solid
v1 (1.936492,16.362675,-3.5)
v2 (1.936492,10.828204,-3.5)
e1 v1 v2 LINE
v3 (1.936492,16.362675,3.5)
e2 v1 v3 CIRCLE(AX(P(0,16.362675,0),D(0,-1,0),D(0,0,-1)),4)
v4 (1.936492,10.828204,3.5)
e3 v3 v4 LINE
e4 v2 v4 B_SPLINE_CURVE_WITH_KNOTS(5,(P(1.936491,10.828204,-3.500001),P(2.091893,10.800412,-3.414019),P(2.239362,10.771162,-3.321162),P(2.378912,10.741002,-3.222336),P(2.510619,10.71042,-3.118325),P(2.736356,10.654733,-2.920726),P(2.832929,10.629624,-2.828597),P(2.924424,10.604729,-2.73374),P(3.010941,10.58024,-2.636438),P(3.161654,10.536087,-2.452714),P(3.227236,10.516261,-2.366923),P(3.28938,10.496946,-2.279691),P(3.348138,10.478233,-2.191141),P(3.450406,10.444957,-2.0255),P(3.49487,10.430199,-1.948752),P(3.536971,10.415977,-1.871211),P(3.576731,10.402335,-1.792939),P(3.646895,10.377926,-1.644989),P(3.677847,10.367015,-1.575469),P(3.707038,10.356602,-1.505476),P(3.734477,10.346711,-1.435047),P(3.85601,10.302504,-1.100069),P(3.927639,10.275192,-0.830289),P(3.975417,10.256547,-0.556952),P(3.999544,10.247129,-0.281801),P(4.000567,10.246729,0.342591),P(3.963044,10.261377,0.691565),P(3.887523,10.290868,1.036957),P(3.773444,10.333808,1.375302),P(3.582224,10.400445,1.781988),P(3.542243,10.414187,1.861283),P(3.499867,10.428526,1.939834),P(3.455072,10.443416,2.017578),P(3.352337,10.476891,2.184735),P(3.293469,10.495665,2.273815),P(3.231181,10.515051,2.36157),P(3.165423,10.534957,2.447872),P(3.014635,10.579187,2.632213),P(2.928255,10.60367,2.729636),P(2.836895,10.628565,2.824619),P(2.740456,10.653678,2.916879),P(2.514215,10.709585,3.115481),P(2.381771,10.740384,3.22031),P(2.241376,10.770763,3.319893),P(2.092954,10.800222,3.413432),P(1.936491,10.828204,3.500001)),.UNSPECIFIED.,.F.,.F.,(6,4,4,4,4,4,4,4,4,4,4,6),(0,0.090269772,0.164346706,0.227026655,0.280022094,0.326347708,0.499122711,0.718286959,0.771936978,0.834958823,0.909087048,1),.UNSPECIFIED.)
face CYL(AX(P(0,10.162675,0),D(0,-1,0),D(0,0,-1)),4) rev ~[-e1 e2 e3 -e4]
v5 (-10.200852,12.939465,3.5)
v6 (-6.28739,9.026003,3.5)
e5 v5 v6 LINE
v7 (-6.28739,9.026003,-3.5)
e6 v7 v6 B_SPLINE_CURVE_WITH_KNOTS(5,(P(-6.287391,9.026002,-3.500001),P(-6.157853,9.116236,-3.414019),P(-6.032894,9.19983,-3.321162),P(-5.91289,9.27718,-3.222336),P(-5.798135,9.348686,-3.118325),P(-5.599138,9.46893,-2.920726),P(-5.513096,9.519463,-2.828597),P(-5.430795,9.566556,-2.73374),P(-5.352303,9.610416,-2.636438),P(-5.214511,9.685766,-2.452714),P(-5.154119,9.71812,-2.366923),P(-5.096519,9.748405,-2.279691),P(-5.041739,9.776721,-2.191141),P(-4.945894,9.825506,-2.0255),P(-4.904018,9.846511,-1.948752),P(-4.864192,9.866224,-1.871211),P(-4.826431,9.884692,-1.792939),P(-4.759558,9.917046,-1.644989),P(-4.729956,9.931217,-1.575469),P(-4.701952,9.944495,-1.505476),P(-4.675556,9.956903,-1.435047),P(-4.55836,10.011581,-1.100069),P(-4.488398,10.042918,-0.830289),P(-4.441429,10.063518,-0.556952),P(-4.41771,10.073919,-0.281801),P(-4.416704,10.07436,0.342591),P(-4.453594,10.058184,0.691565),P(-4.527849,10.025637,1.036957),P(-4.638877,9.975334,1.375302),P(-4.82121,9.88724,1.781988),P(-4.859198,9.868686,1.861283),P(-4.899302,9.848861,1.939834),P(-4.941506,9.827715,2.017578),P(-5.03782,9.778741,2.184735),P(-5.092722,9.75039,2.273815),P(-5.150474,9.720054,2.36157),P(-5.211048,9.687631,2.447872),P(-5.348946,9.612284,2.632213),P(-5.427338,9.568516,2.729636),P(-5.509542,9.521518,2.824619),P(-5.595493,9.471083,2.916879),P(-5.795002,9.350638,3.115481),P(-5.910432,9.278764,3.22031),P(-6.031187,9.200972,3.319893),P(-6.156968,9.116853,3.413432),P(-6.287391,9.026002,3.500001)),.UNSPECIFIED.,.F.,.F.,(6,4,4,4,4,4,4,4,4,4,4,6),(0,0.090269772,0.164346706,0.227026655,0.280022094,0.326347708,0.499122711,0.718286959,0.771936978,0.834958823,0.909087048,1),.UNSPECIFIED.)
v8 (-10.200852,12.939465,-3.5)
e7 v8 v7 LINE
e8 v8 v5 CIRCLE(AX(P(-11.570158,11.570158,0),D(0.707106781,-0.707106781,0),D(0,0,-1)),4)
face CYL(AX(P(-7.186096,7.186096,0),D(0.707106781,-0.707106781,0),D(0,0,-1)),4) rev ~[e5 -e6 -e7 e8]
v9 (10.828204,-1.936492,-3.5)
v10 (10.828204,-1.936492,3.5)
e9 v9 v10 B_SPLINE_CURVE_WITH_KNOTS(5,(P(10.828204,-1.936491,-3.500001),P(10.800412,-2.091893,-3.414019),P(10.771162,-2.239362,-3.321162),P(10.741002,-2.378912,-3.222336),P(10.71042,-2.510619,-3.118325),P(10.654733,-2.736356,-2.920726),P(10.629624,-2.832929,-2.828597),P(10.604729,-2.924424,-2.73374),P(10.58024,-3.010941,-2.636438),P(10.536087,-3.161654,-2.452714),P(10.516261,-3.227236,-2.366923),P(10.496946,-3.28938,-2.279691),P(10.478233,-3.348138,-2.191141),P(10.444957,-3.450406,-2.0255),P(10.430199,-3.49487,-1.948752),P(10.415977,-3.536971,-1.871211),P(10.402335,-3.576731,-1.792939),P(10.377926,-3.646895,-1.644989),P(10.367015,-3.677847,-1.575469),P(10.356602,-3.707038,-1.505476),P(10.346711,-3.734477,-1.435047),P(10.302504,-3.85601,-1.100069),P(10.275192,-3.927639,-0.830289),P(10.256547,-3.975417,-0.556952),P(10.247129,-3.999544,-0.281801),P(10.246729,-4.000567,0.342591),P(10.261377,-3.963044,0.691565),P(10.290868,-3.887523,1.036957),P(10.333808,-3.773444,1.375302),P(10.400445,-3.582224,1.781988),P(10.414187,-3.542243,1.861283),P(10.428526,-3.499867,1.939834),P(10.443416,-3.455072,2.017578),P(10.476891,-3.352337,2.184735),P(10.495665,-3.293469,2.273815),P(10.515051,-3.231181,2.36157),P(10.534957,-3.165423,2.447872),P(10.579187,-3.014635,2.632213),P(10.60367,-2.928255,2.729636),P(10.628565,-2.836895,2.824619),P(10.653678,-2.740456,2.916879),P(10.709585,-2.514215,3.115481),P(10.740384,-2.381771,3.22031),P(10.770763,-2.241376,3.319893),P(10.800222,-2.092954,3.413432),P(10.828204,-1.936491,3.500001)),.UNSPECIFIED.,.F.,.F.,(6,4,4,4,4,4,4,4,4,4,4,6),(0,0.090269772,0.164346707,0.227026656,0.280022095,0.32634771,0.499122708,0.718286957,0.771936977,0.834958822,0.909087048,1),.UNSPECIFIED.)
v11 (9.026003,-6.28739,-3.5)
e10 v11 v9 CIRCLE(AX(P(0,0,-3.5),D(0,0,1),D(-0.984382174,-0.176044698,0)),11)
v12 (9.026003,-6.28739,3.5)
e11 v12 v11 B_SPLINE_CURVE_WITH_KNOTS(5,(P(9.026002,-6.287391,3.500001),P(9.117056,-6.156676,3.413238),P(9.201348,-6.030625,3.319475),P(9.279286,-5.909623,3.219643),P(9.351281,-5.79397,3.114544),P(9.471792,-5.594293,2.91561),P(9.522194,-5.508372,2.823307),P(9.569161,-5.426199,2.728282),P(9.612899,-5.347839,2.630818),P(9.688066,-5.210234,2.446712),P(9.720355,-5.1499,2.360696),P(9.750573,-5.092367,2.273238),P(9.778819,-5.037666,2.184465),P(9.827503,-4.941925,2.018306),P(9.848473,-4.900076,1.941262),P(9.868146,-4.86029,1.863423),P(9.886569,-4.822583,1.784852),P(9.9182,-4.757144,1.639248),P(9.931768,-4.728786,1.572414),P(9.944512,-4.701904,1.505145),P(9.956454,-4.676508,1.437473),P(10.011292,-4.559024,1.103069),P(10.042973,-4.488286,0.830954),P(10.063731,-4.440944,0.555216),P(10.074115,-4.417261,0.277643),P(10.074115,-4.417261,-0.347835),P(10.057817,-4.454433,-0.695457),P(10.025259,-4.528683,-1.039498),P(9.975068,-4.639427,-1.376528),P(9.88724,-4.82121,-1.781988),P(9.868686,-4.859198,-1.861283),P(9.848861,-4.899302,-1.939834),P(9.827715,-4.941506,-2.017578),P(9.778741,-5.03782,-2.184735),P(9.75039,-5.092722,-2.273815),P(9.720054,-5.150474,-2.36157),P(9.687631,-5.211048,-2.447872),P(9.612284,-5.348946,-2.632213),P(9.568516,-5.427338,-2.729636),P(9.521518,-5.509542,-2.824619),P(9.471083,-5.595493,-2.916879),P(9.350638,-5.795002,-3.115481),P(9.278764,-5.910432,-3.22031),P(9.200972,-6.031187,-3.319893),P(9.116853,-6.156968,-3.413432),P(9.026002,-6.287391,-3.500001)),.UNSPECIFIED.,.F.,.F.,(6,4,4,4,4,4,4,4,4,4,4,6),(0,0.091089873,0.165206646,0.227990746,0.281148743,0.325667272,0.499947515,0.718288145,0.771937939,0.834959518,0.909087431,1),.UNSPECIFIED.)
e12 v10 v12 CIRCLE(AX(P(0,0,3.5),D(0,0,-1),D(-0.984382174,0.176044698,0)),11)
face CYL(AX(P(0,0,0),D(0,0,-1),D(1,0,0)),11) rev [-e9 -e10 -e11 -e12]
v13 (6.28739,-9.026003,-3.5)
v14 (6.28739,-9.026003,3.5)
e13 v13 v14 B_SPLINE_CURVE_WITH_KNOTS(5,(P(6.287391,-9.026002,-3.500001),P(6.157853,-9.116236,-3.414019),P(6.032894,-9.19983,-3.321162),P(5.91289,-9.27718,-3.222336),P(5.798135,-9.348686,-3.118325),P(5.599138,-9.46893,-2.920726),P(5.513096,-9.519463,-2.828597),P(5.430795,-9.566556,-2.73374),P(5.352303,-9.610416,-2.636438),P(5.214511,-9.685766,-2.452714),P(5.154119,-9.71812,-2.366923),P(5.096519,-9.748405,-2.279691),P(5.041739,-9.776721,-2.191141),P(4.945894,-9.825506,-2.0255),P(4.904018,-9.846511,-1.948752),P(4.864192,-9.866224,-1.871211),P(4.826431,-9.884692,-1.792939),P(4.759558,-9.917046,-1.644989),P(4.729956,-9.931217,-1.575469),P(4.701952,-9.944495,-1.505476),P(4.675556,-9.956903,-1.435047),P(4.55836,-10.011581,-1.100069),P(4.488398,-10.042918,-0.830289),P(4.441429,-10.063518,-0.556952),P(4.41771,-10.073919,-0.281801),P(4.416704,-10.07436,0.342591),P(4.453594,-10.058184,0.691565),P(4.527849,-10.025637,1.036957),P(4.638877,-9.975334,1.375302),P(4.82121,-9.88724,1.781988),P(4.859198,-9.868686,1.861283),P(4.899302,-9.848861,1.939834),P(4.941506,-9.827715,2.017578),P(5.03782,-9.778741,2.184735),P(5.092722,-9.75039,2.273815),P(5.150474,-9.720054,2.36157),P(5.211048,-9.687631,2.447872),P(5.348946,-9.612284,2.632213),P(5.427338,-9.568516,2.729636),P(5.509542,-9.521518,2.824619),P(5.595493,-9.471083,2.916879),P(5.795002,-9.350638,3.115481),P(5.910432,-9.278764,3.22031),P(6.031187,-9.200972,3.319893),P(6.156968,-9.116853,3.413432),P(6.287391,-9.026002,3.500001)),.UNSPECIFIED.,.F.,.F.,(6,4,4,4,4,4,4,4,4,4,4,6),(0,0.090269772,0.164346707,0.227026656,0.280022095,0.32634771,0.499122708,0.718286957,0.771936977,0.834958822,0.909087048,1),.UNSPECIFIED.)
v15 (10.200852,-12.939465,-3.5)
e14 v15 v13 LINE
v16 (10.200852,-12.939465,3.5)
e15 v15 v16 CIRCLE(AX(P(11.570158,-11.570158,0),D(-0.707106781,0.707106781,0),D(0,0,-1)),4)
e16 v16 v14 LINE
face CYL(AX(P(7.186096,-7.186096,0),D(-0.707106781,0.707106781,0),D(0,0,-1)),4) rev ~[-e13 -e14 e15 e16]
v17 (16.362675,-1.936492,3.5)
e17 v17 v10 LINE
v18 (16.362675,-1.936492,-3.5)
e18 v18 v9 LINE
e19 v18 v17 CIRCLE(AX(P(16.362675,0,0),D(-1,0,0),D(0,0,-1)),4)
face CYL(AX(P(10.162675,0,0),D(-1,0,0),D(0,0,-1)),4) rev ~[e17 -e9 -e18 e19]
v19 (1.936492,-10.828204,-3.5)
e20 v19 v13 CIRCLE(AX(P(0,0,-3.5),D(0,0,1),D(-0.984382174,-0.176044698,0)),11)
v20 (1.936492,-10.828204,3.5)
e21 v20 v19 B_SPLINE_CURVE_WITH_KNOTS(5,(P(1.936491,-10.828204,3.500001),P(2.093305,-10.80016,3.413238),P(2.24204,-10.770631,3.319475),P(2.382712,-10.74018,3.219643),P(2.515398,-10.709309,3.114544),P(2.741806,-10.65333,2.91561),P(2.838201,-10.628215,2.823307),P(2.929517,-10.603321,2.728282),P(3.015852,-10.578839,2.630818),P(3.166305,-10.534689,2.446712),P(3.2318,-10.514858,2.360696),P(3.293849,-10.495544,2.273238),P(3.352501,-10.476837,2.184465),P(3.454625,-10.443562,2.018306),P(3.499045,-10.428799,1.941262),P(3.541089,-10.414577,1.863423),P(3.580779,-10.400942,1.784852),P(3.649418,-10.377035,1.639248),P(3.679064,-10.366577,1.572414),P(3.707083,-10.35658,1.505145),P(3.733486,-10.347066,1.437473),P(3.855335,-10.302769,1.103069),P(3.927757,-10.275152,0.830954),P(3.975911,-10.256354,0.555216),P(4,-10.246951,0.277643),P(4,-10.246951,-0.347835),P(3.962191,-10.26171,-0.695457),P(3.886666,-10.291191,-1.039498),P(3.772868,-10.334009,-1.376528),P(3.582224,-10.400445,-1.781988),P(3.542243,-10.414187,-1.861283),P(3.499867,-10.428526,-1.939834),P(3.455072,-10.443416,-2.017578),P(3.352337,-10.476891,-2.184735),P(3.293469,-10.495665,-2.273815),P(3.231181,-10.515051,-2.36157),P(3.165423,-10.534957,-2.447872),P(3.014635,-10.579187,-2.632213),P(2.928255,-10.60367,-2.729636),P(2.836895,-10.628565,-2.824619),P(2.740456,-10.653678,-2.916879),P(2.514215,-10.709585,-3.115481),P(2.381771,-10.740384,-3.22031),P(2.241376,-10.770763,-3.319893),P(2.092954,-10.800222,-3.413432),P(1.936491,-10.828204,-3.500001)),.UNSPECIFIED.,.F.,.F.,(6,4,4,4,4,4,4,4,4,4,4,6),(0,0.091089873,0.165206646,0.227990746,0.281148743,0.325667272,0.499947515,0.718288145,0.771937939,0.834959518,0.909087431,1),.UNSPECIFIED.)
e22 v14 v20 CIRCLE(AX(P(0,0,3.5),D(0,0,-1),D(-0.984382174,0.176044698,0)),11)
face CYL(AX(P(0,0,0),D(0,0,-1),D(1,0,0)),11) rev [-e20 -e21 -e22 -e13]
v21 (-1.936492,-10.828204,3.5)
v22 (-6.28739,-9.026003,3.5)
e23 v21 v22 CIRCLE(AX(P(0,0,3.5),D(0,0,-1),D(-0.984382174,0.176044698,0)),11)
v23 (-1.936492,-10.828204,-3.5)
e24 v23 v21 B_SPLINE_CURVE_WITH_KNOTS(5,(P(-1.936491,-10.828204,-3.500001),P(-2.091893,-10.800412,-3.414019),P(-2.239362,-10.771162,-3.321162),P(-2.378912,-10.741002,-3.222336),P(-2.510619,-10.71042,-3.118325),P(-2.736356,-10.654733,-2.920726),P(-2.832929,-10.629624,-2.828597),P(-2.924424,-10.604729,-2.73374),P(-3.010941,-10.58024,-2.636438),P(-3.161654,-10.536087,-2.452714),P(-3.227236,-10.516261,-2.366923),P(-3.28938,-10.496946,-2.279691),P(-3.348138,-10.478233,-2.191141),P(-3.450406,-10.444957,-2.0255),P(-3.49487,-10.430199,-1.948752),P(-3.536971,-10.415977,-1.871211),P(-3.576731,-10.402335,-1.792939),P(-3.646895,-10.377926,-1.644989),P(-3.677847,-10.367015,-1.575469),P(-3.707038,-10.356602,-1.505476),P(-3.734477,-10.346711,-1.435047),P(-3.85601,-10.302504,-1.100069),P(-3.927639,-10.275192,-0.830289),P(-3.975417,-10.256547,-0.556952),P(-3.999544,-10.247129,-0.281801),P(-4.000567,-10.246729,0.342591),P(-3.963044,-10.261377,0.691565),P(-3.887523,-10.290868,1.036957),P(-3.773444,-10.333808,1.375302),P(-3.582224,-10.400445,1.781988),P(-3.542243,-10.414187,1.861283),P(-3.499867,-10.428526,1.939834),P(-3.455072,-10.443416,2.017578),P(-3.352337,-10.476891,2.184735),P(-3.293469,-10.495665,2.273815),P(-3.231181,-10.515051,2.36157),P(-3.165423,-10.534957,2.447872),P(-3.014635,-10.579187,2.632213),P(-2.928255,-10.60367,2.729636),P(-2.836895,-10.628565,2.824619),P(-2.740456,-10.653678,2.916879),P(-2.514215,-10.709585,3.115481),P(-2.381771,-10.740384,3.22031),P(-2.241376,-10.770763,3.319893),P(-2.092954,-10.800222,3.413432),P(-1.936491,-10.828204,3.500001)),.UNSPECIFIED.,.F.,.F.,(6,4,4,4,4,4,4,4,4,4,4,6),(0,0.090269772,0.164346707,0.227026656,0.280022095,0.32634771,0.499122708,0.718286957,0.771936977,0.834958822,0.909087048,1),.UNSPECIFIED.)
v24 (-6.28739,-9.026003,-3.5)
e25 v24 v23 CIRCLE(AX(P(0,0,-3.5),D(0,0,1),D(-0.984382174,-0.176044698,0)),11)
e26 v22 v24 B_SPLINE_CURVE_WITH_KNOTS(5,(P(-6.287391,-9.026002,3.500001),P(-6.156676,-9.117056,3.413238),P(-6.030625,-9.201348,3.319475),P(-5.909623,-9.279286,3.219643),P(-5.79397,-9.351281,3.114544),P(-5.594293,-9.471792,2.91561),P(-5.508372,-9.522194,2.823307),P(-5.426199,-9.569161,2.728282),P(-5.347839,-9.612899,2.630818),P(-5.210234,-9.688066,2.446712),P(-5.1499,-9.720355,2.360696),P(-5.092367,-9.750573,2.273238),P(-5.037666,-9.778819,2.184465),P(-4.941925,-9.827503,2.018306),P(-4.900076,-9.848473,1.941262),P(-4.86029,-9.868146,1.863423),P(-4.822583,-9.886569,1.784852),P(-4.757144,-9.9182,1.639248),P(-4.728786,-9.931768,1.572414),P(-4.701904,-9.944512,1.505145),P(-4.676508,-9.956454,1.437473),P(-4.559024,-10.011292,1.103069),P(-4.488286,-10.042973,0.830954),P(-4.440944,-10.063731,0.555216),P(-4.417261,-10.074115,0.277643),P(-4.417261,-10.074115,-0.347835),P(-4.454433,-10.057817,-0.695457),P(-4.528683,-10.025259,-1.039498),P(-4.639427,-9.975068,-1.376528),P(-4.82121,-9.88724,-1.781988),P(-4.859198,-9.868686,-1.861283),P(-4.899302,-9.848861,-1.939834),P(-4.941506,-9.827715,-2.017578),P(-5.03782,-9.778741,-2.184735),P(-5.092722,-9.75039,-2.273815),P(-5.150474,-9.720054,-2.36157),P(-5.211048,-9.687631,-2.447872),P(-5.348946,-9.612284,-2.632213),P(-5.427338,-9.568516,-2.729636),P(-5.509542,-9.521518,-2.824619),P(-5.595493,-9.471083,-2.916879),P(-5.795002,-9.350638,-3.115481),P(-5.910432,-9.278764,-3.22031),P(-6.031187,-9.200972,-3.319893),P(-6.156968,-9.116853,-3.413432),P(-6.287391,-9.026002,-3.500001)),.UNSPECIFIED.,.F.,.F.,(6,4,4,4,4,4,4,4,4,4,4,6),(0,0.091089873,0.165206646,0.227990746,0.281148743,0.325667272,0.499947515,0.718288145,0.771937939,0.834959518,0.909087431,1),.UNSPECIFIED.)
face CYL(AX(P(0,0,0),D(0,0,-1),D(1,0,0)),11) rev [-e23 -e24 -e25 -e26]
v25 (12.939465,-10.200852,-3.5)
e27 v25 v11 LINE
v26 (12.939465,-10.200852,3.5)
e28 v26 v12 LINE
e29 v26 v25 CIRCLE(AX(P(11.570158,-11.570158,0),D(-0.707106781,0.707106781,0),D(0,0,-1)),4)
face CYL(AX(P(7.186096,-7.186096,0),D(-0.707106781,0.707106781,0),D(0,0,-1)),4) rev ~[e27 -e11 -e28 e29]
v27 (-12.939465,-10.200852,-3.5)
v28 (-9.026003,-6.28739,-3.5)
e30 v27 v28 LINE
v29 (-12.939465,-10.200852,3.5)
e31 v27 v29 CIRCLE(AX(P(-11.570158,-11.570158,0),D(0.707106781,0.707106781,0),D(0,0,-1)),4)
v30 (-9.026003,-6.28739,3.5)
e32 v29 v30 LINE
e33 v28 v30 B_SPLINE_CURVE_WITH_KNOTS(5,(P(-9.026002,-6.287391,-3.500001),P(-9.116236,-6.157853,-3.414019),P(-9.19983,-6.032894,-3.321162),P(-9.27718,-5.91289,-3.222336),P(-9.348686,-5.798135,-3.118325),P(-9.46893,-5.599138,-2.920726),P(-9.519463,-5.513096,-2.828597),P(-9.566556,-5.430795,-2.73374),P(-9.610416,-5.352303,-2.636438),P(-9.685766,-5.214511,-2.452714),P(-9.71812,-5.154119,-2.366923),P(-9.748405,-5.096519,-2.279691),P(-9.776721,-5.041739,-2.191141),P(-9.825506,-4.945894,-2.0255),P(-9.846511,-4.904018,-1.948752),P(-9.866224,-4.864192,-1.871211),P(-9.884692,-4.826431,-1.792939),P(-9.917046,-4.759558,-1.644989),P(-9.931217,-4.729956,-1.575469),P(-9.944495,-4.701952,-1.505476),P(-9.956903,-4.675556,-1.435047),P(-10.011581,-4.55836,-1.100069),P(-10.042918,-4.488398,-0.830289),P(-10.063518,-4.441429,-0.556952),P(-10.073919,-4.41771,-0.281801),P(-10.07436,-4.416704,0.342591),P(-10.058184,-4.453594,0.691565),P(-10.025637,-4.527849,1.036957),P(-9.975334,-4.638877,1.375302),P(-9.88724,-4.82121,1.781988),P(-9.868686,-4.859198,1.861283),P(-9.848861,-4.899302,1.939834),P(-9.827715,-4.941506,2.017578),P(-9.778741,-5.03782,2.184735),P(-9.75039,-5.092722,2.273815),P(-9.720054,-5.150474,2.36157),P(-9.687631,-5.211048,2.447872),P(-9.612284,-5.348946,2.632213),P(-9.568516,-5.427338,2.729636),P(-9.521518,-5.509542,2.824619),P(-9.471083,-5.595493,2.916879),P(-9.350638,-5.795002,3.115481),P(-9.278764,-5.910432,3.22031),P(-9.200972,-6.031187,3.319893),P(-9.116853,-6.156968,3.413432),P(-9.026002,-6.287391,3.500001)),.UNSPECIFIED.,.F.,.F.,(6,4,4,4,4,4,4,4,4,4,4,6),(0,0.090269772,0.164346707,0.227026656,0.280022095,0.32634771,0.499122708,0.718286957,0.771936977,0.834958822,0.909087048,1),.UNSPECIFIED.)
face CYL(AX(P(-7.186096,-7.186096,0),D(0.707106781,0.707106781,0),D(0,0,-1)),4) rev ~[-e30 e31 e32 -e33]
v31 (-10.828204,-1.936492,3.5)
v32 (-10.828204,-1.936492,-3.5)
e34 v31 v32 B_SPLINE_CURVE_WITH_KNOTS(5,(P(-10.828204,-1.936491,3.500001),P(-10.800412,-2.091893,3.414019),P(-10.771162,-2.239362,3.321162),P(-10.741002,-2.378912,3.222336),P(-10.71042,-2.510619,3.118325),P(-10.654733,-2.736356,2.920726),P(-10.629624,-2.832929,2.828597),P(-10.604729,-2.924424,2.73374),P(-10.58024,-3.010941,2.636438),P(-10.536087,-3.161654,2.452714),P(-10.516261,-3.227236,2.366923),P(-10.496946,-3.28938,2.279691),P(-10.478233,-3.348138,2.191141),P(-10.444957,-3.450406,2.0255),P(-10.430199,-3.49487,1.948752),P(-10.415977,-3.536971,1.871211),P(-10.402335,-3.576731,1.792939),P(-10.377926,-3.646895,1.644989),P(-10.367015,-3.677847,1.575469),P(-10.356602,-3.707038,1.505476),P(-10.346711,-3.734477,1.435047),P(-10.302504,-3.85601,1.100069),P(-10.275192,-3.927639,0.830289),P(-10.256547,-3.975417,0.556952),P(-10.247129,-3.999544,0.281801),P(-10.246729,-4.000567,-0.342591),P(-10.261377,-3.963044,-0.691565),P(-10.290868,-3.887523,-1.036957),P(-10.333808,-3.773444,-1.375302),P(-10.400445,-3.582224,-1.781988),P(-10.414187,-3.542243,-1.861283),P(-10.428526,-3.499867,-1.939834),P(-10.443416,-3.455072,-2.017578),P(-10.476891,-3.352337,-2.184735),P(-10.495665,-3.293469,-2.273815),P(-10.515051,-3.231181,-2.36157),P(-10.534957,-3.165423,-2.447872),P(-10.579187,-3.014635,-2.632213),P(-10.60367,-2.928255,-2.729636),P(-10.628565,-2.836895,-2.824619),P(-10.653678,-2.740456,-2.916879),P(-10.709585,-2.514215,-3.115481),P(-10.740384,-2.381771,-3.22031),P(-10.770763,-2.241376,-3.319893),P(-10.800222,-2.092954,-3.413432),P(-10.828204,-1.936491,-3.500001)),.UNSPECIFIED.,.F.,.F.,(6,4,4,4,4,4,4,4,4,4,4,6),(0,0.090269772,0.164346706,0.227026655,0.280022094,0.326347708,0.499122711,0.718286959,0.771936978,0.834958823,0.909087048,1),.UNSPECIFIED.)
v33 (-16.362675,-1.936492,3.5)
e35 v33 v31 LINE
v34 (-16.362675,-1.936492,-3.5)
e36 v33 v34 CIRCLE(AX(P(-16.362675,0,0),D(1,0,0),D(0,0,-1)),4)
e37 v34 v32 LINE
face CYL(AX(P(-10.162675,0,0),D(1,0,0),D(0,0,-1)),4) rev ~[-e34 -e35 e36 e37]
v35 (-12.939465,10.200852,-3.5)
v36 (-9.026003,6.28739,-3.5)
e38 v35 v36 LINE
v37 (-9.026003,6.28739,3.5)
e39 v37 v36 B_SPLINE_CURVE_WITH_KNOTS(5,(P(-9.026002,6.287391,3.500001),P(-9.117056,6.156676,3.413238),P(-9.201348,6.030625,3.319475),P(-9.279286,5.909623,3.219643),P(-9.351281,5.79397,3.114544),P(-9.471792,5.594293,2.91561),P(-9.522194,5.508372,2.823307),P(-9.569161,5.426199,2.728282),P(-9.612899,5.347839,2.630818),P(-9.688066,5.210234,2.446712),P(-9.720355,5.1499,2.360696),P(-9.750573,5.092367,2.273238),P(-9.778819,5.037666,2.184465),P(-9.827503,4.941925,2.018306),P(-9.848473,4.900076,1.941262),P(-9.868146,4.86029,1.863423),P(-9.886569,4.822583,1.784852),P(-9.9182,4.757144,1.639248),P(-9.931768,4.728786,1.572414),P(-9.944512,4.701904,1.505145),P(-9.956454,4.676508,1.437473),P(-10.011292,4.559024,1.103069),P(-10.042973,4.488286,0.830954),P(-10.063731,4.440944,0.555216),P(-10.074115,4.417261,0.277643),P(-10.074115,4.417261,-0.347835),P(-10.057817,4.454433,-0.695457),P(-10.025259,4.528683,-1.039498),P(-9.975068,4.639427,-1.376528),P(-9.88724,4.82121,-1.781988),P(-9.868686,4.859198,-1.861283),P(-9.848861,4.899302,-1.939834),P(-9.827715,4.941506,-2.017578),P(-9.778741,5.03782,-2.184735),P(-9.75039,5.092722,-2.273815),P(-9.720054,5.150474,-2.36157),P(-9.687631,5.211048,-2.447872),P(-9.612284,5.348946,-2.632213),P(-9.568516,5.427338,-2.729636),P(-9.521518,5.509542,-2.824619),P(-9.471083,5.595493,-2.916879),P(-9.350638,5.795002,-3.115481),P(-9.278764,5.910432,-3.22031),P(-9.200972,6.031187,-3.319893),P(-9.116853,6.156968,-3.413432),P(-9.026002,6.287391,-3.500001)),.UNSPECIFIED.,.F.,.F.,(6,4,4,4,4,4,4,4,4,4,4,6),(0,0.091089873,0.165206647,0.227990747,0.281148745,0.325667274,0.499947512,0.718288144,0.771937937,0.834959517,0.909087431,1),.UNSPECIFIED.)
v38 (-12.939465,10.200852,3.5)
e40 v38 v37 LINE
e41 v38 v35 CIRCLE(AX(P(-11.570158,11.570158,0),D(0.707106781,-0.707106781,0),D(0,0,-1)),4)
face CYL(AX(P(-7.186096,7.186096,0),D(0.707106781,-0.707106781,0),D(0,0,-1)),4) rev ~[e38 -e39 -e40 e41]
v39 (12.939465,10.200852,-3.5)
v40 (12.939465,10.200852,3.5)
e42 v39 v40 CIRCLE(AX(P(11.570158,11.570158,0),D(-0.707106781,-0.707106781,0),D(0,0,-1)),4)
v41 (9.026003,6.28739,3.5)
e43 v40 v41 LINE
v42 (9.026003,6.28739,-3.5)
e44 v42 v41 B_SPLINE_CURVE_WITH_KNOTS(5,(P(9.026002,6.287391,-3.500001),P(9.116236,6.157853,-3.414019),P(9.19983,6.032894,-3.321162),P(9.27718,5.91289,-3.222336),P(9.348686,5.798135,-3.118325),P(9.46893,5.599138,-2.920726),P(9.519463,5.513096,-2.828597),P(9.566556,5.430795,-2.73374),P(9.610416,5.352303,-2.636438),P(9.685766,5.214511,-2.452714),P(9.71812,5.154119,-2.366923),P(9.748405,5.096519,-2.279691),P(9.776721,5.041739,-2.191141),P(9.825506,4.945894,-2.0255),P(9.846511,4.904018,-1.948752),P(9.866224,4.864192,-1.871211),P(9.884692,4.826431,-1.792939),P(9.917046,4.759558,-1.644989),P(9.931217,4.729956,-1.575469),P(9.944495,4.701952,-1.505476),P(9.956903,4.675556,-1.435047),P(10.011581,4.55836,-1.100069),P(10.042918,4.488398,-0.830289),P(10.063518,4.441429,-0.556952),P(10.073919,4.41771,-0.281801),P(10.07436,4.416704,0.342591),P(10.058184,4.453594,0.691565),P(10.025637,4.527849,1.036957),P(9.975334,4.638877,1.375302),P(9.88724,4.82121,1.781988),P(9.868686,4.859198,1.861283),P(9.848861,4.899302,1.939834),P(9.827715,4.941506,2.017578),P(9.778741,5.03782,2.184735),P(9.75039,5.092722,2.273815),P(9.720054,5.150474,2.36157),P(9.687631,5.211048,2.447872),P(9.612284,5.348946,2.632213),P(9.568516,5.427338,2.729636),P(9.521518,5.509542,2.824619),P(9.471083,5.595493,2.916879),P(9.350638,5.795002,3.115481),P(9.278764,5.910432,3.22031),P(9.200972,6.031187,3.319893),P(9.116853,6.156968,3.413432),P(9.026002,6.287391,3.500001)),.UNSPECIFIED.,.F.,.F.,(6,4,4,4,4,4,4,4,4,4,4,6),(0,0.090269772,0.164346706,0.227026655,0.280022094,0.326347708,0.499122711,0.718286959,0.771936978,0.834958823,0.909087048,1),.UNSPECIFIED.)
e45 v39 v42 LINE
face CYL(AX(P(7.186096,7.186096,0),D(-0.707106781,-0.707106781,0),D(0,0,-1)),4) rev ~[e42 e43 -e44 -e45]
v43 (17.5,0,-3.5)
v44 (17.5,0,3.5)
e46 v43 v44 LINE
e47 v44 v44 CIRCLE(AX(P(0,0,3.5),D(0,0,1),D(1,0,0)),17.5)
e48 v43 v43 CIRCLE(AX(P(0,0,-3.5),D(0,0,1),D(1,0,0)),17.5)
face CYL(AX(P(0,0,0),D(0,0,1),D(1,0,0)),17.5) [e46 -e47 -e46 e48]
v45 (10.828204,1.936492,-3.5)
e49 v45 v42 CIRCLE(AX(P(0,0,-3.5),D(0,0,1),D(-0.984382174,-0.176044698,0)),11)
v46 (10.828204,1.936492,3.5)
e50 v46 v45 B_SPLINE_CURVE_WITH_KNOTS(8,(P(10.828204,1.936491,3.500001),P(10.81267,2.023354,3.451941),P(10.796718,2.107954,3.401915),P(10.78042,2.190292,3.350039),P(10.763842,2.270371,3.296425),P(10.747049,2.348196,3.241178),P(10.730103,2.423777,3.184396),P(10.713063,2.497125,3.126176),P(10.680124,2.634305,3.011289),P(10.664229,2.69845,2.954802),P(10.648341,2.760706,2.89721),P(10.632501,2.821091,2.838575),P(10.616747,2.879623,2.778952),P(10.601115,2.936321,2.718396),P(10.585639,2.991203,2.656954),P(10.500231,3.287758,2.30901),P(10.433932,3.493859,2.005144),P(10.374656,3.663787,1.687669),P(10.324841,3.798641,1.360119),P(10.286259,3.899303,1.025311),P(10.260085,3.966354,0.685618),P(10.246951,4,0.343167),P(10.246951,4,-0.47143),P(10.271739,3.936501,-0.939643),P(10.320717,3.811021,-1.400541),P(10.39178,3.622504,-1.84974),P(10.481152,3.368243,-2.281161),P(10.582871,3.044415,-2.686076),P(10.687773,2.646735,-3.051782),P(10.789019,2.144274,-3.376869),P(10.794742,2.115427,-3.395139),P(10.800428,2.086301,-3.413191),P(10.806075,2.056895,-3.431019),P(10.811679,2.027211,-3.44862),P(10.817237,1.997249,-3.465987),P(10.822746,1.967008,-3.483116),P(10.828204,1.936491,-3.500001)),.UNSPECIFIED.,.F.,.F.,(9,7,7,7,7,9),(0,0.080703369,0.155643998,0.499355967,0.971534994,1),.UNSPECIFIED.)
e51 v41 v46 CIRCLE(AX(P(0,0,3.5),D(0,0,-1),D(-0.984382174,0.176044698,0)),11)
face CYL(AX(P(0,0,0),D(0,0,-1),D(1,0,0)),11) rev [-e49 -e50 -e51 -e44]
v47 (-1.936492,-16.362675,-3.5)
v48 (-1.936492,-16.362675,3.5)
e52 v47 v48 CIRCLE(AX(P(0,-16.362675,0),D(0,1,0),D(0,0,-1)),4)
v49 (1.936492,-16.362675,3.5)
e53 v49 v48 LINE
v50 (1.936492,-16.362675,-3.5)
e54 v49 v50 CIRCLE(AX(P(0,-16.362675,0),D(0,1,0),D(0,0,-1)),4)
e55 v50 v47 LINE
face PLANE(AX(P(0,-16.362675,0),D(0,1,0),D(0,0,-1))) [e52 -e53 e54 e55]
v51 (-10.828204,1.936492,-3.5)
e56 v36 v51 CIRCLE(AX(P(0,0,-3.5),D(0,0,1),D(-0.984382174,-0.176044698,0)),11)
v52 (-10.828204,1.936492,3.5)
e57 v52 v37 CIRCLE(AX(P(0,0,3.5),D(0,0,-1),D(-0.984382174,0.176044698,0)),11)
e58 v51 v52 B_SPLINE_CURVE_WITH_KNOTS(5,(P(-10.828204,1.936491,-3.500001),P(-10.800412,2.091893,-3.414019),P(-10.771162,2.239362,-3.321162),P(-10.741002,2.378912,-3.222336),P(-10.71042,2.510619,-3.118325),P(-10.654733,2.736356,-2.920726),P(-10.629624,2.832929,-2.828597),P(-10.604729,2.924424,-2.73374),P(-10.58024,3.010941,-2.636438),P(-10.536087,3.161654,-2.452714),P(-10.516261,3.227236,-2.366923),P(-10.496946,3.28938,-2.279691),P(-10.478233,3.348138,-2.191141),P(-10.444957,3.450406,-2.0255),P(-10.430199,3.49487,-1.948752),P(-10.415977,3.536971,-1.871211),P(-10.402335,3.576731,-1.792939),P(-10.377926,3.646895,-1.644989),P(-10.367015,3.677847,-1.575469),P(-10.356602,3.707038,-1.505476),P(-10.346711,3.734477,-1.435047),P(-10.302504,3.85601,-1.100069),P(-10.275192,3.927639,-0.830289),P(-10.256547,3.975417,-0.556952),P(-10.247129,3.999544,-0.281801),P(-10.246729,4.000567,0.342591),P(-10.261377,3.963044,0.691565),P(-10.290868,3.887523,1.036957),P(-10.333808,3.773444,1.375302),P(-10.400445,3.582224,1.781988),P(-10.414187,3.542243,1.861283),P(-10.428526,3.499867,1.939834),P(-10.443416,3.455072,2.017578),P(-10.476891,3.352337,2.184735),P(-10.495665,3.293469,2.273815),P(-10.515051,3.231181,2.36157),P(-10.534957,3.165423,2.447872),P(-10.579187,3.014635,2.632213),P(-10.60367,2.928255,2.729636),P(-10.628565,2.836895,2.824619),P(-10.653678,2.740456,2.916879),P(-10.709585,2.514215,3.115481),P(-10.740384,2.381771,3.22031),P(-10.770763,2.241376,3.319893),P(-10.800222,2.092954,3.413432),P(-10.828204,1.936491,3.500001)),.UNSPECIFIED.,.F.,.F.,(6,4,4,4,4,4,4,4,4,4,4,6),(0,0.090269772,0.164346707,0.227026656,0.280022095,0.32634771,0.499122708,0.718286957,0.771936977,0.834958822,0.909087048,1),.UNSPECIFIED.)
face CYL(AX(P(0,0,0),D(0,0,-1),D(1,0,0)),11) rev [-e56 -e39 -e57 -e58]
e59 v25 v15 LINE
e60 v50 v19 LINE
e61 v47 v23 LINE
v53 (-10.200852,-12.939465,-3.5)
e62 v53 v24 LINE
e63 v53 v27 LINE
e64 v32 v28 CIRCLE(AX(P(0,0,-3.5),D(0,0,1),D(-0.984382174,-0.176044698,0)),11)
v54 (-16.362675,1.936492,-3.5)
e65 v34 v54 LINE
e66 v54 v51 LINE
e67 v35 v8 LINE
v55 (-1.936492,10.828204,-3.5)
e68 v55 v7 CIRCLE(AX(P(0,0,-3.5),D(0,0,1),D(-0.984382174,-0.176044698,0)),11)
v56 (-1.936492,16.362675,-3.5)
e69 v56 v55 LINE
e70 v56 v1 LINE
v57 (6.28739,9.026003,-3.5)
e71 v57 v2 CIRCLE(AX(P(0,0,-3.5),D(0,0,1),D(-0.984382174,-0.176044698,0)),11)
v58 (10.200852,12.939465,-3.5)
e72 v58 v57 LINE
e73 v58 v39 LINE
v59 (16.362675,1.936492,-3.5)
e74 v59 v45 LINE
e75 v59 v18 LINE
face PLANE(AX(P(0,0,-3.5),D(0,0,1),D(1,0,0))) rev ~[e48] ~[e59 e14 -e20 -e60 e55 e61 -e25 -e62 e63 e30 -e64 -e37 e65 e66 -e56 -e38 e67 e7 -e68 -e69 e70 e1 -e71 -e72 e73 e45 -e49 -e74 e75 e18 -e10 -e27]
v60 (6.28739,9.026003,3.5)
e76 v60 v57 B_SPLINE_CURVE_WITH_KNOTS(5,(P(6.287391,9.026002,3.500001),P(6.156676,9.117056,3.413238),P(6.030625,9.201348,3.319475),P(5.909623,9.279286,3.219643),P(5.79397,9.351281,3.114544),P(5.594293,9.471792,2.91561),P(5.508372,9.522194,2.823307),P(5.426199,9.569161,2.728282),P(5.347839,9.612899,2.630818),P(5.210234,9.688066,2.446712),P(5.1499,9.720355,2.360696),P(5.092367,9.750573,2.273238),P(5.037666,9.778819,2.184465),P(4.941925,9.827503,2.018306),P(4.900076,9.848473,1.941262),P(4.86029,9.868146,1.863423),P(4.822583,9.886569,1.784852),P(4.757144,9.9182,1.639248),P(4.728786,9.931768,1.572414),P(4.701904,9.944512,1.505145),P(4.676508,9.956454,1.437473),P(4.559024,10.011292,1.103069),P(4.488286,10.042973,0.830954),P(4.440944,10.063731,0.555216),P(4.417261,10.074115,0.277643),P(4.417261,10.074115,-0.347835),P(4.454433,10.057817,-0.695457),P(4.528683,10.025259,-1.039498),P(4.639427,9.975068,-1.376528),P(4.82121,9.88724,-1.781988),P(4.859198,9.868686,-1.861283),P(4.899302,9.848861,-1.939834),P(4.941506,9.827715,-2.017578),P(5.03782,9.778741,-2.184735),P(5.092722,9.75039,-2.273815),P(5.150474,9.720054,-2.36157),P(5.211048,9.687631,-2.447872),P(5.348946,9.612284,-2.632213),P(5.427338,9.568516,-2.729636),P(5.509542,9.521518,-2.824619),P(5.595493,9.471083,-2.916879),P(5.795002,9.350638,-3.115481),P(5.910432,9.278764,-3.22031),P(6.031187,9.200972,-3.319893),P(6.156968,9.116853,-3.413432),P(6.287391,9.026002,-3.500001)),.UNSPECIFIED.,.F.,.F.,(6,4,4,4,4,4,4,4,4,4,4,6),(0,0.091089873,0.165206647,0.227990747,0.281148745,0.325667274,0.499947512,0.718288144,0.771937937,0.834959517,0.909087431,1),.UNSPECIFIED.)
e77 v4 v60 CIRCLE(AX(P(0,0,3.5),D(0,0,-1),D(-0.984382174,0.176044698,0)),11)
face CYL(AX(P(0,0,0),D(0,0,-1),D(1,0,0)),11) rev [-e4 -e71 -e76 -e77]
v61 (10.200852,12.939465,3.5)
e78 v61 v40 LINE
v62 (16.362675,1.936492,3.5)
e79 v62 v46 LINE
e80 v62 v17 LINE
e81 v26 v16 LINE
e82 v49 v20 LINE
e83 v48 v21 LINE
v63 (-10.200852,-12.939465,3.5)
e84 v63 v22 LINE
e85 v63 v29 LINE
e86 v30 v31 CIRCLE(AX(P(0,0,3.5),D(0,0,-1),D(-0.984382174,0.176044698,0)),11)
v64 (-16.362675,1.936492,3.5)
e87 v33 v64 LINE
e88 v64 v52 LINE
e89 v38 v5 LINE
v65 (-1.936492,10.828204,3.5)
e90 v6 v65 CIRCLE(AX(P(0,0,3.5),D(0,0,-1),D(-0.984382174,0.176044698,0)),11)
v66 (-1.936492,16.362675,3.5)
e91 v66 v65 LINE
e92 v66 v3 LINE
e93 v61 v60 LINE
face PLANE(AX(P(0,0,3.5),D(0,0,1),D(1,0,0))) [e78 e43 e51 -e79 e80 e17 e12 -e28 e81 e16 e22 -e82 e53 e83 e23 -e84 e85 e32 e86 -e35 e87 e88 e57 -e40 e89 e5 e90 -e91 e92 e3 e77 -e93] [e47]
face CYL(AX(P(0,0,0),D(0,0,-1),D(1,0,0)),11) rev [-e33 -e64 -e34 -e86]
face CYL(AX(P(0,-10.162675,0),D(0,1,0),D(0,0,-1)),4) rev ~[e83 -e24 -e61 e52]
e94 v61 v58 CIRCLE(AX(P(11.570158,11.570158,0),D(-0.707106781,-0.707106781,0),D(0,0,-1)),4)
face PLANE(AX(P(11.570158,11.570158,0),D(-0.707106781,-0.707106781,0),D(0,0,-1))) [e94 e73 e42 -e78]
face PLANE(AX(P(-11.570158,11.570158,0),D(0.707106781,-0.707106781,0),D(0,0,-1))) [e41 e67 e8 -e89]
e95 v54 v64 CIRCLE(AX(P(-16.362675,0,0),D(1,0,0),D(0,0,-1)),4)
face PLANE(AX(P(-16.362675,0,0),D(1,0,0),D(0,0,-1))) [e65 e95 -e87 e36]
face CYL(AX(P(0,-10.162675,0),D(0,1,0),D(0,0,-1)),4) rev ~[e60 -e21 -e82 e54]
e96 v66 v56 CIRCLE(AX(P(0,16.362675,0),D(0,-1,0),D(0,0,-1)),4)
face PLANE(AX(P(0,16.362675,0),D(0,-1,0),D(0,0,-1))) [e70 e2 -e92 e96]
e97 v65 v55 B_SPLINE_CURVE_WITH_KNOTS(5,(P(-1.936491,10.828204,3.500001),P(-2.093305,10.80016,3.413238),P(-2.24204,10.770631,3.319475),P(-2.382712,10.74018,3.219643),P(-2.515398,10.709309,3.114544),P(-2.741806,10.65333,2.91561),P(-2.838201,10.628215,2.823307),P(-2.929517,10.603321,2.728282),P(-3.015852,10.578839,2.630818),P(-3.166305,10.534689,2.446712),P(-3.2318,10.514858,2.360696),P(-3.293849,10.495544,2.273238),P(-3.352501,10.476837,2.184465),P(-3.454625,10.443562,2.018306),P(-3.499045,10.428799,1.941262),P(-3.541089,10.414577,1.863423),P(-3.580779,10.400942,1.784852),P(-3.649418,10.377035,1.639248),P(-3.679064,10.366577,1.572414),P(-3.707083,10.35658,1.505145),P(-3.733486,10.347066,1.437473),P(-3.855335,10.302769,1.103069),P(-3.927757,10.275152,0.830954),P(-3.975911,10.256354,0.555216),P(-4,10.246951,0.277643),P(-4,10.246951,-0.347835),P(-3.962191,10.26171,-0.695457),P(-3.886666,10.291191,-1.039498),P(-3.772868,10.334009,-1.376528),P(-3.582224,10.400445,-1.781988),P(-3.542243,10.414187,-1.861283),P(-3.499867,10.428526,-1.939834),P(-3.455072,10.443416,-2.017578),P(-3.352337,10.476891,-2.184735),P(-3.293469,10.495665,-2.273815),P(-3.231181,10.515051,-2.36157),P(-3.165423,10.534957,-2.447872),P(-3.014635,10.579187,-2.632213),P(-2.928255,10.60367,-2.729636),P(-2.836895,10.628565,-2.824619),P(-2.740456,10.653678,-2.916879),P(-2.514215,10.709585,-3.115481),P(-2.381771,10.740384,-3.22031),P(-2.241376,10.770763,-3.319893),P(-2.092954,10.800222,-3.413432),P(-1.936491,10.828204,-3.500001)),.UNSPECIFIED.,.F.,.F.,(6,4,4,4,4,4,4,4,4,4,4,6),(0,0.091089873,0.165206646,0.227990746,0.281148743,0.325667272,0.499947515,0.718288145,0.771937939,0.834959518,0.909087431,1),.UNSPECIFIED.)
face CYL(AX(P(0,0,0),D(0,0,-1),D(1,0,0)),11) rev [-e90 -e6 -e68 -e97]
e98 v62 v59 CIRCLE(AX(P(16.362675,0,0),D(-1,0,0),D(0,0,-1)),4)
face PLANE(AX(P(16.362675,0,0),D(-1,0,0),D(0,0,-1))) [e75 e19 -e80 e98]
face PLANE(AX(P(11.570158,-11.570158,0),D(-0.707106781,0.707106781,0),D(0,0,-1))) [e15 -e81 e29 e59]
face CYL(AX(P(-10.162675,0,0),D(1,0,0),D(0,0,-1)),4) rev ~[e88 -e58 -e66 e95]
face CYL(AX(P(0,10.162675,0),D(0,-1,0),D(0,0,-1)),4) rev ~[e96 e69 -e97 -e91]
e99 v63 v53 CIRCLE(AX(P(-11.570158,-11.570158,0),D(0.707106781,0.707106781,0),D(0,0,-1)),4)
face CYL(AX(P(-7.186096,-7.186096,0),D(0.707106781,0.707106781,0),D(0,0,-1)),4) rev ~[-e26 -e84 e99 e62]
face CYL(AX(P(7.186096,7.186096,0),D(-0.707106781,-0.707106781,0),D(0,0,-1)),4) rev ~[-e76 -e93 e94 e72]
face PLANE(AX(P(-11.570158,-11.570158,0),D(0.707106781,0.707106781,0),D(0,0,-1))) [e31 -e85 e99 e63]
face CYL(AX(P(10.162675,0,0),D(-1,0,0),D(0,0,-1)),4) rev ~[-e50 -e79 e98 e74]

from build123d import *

# Parameters (mm, degrees)
SKETCH1_R           = 17.5
SKETCH1_R_2         = 11
BOSS_EXTRUDE1_DEPTH = 3.5
SKETCH4_R           = 4
CUT_EXTRUDE1_DEPTH  = 6.2
CIRPATTERN1_COUNT   = 8


with BuildPart() as part:
    # Sketch1 → Boss-Extrude1 (new, symmetric)
    with BuildSketch(Plane.XY):
        Circle(SKETCH1_R)
        Circle(SKETCH1_R_2, mode=Mode.SUBTRACT)
    extrude(amount=BOSS_EXTRUDE1_DEPTH, both=True)

    # Sketch4 → Cut-Extrude1 (cut)
    with BuildSketch(Plane(origin=(-10.162674858, 0, 0), x_dir=(0, 0, -1), z_dir=(1, 0, 0))):
        Circle(SKETCH4_R)
    cut_extrude1 = extrude(amount=-CUT_EXTRUDE1_DEPTH, mode=Mode.SUBTRACT)

    # CirPattern1: Cut-Extrude1 ×8 about axis
    cirpattern1_axis = Axis((0, 0, 3.5), (0, 0, -1))
    for i in range(1, CIRPATTERN1_COUNT):
        add(cut_extrude1.rotate(cirpattern1_axis, i * 360 / CIRPATTERN1_COUNT), mode=Mode.SUBTRACT)


solid = part.part
